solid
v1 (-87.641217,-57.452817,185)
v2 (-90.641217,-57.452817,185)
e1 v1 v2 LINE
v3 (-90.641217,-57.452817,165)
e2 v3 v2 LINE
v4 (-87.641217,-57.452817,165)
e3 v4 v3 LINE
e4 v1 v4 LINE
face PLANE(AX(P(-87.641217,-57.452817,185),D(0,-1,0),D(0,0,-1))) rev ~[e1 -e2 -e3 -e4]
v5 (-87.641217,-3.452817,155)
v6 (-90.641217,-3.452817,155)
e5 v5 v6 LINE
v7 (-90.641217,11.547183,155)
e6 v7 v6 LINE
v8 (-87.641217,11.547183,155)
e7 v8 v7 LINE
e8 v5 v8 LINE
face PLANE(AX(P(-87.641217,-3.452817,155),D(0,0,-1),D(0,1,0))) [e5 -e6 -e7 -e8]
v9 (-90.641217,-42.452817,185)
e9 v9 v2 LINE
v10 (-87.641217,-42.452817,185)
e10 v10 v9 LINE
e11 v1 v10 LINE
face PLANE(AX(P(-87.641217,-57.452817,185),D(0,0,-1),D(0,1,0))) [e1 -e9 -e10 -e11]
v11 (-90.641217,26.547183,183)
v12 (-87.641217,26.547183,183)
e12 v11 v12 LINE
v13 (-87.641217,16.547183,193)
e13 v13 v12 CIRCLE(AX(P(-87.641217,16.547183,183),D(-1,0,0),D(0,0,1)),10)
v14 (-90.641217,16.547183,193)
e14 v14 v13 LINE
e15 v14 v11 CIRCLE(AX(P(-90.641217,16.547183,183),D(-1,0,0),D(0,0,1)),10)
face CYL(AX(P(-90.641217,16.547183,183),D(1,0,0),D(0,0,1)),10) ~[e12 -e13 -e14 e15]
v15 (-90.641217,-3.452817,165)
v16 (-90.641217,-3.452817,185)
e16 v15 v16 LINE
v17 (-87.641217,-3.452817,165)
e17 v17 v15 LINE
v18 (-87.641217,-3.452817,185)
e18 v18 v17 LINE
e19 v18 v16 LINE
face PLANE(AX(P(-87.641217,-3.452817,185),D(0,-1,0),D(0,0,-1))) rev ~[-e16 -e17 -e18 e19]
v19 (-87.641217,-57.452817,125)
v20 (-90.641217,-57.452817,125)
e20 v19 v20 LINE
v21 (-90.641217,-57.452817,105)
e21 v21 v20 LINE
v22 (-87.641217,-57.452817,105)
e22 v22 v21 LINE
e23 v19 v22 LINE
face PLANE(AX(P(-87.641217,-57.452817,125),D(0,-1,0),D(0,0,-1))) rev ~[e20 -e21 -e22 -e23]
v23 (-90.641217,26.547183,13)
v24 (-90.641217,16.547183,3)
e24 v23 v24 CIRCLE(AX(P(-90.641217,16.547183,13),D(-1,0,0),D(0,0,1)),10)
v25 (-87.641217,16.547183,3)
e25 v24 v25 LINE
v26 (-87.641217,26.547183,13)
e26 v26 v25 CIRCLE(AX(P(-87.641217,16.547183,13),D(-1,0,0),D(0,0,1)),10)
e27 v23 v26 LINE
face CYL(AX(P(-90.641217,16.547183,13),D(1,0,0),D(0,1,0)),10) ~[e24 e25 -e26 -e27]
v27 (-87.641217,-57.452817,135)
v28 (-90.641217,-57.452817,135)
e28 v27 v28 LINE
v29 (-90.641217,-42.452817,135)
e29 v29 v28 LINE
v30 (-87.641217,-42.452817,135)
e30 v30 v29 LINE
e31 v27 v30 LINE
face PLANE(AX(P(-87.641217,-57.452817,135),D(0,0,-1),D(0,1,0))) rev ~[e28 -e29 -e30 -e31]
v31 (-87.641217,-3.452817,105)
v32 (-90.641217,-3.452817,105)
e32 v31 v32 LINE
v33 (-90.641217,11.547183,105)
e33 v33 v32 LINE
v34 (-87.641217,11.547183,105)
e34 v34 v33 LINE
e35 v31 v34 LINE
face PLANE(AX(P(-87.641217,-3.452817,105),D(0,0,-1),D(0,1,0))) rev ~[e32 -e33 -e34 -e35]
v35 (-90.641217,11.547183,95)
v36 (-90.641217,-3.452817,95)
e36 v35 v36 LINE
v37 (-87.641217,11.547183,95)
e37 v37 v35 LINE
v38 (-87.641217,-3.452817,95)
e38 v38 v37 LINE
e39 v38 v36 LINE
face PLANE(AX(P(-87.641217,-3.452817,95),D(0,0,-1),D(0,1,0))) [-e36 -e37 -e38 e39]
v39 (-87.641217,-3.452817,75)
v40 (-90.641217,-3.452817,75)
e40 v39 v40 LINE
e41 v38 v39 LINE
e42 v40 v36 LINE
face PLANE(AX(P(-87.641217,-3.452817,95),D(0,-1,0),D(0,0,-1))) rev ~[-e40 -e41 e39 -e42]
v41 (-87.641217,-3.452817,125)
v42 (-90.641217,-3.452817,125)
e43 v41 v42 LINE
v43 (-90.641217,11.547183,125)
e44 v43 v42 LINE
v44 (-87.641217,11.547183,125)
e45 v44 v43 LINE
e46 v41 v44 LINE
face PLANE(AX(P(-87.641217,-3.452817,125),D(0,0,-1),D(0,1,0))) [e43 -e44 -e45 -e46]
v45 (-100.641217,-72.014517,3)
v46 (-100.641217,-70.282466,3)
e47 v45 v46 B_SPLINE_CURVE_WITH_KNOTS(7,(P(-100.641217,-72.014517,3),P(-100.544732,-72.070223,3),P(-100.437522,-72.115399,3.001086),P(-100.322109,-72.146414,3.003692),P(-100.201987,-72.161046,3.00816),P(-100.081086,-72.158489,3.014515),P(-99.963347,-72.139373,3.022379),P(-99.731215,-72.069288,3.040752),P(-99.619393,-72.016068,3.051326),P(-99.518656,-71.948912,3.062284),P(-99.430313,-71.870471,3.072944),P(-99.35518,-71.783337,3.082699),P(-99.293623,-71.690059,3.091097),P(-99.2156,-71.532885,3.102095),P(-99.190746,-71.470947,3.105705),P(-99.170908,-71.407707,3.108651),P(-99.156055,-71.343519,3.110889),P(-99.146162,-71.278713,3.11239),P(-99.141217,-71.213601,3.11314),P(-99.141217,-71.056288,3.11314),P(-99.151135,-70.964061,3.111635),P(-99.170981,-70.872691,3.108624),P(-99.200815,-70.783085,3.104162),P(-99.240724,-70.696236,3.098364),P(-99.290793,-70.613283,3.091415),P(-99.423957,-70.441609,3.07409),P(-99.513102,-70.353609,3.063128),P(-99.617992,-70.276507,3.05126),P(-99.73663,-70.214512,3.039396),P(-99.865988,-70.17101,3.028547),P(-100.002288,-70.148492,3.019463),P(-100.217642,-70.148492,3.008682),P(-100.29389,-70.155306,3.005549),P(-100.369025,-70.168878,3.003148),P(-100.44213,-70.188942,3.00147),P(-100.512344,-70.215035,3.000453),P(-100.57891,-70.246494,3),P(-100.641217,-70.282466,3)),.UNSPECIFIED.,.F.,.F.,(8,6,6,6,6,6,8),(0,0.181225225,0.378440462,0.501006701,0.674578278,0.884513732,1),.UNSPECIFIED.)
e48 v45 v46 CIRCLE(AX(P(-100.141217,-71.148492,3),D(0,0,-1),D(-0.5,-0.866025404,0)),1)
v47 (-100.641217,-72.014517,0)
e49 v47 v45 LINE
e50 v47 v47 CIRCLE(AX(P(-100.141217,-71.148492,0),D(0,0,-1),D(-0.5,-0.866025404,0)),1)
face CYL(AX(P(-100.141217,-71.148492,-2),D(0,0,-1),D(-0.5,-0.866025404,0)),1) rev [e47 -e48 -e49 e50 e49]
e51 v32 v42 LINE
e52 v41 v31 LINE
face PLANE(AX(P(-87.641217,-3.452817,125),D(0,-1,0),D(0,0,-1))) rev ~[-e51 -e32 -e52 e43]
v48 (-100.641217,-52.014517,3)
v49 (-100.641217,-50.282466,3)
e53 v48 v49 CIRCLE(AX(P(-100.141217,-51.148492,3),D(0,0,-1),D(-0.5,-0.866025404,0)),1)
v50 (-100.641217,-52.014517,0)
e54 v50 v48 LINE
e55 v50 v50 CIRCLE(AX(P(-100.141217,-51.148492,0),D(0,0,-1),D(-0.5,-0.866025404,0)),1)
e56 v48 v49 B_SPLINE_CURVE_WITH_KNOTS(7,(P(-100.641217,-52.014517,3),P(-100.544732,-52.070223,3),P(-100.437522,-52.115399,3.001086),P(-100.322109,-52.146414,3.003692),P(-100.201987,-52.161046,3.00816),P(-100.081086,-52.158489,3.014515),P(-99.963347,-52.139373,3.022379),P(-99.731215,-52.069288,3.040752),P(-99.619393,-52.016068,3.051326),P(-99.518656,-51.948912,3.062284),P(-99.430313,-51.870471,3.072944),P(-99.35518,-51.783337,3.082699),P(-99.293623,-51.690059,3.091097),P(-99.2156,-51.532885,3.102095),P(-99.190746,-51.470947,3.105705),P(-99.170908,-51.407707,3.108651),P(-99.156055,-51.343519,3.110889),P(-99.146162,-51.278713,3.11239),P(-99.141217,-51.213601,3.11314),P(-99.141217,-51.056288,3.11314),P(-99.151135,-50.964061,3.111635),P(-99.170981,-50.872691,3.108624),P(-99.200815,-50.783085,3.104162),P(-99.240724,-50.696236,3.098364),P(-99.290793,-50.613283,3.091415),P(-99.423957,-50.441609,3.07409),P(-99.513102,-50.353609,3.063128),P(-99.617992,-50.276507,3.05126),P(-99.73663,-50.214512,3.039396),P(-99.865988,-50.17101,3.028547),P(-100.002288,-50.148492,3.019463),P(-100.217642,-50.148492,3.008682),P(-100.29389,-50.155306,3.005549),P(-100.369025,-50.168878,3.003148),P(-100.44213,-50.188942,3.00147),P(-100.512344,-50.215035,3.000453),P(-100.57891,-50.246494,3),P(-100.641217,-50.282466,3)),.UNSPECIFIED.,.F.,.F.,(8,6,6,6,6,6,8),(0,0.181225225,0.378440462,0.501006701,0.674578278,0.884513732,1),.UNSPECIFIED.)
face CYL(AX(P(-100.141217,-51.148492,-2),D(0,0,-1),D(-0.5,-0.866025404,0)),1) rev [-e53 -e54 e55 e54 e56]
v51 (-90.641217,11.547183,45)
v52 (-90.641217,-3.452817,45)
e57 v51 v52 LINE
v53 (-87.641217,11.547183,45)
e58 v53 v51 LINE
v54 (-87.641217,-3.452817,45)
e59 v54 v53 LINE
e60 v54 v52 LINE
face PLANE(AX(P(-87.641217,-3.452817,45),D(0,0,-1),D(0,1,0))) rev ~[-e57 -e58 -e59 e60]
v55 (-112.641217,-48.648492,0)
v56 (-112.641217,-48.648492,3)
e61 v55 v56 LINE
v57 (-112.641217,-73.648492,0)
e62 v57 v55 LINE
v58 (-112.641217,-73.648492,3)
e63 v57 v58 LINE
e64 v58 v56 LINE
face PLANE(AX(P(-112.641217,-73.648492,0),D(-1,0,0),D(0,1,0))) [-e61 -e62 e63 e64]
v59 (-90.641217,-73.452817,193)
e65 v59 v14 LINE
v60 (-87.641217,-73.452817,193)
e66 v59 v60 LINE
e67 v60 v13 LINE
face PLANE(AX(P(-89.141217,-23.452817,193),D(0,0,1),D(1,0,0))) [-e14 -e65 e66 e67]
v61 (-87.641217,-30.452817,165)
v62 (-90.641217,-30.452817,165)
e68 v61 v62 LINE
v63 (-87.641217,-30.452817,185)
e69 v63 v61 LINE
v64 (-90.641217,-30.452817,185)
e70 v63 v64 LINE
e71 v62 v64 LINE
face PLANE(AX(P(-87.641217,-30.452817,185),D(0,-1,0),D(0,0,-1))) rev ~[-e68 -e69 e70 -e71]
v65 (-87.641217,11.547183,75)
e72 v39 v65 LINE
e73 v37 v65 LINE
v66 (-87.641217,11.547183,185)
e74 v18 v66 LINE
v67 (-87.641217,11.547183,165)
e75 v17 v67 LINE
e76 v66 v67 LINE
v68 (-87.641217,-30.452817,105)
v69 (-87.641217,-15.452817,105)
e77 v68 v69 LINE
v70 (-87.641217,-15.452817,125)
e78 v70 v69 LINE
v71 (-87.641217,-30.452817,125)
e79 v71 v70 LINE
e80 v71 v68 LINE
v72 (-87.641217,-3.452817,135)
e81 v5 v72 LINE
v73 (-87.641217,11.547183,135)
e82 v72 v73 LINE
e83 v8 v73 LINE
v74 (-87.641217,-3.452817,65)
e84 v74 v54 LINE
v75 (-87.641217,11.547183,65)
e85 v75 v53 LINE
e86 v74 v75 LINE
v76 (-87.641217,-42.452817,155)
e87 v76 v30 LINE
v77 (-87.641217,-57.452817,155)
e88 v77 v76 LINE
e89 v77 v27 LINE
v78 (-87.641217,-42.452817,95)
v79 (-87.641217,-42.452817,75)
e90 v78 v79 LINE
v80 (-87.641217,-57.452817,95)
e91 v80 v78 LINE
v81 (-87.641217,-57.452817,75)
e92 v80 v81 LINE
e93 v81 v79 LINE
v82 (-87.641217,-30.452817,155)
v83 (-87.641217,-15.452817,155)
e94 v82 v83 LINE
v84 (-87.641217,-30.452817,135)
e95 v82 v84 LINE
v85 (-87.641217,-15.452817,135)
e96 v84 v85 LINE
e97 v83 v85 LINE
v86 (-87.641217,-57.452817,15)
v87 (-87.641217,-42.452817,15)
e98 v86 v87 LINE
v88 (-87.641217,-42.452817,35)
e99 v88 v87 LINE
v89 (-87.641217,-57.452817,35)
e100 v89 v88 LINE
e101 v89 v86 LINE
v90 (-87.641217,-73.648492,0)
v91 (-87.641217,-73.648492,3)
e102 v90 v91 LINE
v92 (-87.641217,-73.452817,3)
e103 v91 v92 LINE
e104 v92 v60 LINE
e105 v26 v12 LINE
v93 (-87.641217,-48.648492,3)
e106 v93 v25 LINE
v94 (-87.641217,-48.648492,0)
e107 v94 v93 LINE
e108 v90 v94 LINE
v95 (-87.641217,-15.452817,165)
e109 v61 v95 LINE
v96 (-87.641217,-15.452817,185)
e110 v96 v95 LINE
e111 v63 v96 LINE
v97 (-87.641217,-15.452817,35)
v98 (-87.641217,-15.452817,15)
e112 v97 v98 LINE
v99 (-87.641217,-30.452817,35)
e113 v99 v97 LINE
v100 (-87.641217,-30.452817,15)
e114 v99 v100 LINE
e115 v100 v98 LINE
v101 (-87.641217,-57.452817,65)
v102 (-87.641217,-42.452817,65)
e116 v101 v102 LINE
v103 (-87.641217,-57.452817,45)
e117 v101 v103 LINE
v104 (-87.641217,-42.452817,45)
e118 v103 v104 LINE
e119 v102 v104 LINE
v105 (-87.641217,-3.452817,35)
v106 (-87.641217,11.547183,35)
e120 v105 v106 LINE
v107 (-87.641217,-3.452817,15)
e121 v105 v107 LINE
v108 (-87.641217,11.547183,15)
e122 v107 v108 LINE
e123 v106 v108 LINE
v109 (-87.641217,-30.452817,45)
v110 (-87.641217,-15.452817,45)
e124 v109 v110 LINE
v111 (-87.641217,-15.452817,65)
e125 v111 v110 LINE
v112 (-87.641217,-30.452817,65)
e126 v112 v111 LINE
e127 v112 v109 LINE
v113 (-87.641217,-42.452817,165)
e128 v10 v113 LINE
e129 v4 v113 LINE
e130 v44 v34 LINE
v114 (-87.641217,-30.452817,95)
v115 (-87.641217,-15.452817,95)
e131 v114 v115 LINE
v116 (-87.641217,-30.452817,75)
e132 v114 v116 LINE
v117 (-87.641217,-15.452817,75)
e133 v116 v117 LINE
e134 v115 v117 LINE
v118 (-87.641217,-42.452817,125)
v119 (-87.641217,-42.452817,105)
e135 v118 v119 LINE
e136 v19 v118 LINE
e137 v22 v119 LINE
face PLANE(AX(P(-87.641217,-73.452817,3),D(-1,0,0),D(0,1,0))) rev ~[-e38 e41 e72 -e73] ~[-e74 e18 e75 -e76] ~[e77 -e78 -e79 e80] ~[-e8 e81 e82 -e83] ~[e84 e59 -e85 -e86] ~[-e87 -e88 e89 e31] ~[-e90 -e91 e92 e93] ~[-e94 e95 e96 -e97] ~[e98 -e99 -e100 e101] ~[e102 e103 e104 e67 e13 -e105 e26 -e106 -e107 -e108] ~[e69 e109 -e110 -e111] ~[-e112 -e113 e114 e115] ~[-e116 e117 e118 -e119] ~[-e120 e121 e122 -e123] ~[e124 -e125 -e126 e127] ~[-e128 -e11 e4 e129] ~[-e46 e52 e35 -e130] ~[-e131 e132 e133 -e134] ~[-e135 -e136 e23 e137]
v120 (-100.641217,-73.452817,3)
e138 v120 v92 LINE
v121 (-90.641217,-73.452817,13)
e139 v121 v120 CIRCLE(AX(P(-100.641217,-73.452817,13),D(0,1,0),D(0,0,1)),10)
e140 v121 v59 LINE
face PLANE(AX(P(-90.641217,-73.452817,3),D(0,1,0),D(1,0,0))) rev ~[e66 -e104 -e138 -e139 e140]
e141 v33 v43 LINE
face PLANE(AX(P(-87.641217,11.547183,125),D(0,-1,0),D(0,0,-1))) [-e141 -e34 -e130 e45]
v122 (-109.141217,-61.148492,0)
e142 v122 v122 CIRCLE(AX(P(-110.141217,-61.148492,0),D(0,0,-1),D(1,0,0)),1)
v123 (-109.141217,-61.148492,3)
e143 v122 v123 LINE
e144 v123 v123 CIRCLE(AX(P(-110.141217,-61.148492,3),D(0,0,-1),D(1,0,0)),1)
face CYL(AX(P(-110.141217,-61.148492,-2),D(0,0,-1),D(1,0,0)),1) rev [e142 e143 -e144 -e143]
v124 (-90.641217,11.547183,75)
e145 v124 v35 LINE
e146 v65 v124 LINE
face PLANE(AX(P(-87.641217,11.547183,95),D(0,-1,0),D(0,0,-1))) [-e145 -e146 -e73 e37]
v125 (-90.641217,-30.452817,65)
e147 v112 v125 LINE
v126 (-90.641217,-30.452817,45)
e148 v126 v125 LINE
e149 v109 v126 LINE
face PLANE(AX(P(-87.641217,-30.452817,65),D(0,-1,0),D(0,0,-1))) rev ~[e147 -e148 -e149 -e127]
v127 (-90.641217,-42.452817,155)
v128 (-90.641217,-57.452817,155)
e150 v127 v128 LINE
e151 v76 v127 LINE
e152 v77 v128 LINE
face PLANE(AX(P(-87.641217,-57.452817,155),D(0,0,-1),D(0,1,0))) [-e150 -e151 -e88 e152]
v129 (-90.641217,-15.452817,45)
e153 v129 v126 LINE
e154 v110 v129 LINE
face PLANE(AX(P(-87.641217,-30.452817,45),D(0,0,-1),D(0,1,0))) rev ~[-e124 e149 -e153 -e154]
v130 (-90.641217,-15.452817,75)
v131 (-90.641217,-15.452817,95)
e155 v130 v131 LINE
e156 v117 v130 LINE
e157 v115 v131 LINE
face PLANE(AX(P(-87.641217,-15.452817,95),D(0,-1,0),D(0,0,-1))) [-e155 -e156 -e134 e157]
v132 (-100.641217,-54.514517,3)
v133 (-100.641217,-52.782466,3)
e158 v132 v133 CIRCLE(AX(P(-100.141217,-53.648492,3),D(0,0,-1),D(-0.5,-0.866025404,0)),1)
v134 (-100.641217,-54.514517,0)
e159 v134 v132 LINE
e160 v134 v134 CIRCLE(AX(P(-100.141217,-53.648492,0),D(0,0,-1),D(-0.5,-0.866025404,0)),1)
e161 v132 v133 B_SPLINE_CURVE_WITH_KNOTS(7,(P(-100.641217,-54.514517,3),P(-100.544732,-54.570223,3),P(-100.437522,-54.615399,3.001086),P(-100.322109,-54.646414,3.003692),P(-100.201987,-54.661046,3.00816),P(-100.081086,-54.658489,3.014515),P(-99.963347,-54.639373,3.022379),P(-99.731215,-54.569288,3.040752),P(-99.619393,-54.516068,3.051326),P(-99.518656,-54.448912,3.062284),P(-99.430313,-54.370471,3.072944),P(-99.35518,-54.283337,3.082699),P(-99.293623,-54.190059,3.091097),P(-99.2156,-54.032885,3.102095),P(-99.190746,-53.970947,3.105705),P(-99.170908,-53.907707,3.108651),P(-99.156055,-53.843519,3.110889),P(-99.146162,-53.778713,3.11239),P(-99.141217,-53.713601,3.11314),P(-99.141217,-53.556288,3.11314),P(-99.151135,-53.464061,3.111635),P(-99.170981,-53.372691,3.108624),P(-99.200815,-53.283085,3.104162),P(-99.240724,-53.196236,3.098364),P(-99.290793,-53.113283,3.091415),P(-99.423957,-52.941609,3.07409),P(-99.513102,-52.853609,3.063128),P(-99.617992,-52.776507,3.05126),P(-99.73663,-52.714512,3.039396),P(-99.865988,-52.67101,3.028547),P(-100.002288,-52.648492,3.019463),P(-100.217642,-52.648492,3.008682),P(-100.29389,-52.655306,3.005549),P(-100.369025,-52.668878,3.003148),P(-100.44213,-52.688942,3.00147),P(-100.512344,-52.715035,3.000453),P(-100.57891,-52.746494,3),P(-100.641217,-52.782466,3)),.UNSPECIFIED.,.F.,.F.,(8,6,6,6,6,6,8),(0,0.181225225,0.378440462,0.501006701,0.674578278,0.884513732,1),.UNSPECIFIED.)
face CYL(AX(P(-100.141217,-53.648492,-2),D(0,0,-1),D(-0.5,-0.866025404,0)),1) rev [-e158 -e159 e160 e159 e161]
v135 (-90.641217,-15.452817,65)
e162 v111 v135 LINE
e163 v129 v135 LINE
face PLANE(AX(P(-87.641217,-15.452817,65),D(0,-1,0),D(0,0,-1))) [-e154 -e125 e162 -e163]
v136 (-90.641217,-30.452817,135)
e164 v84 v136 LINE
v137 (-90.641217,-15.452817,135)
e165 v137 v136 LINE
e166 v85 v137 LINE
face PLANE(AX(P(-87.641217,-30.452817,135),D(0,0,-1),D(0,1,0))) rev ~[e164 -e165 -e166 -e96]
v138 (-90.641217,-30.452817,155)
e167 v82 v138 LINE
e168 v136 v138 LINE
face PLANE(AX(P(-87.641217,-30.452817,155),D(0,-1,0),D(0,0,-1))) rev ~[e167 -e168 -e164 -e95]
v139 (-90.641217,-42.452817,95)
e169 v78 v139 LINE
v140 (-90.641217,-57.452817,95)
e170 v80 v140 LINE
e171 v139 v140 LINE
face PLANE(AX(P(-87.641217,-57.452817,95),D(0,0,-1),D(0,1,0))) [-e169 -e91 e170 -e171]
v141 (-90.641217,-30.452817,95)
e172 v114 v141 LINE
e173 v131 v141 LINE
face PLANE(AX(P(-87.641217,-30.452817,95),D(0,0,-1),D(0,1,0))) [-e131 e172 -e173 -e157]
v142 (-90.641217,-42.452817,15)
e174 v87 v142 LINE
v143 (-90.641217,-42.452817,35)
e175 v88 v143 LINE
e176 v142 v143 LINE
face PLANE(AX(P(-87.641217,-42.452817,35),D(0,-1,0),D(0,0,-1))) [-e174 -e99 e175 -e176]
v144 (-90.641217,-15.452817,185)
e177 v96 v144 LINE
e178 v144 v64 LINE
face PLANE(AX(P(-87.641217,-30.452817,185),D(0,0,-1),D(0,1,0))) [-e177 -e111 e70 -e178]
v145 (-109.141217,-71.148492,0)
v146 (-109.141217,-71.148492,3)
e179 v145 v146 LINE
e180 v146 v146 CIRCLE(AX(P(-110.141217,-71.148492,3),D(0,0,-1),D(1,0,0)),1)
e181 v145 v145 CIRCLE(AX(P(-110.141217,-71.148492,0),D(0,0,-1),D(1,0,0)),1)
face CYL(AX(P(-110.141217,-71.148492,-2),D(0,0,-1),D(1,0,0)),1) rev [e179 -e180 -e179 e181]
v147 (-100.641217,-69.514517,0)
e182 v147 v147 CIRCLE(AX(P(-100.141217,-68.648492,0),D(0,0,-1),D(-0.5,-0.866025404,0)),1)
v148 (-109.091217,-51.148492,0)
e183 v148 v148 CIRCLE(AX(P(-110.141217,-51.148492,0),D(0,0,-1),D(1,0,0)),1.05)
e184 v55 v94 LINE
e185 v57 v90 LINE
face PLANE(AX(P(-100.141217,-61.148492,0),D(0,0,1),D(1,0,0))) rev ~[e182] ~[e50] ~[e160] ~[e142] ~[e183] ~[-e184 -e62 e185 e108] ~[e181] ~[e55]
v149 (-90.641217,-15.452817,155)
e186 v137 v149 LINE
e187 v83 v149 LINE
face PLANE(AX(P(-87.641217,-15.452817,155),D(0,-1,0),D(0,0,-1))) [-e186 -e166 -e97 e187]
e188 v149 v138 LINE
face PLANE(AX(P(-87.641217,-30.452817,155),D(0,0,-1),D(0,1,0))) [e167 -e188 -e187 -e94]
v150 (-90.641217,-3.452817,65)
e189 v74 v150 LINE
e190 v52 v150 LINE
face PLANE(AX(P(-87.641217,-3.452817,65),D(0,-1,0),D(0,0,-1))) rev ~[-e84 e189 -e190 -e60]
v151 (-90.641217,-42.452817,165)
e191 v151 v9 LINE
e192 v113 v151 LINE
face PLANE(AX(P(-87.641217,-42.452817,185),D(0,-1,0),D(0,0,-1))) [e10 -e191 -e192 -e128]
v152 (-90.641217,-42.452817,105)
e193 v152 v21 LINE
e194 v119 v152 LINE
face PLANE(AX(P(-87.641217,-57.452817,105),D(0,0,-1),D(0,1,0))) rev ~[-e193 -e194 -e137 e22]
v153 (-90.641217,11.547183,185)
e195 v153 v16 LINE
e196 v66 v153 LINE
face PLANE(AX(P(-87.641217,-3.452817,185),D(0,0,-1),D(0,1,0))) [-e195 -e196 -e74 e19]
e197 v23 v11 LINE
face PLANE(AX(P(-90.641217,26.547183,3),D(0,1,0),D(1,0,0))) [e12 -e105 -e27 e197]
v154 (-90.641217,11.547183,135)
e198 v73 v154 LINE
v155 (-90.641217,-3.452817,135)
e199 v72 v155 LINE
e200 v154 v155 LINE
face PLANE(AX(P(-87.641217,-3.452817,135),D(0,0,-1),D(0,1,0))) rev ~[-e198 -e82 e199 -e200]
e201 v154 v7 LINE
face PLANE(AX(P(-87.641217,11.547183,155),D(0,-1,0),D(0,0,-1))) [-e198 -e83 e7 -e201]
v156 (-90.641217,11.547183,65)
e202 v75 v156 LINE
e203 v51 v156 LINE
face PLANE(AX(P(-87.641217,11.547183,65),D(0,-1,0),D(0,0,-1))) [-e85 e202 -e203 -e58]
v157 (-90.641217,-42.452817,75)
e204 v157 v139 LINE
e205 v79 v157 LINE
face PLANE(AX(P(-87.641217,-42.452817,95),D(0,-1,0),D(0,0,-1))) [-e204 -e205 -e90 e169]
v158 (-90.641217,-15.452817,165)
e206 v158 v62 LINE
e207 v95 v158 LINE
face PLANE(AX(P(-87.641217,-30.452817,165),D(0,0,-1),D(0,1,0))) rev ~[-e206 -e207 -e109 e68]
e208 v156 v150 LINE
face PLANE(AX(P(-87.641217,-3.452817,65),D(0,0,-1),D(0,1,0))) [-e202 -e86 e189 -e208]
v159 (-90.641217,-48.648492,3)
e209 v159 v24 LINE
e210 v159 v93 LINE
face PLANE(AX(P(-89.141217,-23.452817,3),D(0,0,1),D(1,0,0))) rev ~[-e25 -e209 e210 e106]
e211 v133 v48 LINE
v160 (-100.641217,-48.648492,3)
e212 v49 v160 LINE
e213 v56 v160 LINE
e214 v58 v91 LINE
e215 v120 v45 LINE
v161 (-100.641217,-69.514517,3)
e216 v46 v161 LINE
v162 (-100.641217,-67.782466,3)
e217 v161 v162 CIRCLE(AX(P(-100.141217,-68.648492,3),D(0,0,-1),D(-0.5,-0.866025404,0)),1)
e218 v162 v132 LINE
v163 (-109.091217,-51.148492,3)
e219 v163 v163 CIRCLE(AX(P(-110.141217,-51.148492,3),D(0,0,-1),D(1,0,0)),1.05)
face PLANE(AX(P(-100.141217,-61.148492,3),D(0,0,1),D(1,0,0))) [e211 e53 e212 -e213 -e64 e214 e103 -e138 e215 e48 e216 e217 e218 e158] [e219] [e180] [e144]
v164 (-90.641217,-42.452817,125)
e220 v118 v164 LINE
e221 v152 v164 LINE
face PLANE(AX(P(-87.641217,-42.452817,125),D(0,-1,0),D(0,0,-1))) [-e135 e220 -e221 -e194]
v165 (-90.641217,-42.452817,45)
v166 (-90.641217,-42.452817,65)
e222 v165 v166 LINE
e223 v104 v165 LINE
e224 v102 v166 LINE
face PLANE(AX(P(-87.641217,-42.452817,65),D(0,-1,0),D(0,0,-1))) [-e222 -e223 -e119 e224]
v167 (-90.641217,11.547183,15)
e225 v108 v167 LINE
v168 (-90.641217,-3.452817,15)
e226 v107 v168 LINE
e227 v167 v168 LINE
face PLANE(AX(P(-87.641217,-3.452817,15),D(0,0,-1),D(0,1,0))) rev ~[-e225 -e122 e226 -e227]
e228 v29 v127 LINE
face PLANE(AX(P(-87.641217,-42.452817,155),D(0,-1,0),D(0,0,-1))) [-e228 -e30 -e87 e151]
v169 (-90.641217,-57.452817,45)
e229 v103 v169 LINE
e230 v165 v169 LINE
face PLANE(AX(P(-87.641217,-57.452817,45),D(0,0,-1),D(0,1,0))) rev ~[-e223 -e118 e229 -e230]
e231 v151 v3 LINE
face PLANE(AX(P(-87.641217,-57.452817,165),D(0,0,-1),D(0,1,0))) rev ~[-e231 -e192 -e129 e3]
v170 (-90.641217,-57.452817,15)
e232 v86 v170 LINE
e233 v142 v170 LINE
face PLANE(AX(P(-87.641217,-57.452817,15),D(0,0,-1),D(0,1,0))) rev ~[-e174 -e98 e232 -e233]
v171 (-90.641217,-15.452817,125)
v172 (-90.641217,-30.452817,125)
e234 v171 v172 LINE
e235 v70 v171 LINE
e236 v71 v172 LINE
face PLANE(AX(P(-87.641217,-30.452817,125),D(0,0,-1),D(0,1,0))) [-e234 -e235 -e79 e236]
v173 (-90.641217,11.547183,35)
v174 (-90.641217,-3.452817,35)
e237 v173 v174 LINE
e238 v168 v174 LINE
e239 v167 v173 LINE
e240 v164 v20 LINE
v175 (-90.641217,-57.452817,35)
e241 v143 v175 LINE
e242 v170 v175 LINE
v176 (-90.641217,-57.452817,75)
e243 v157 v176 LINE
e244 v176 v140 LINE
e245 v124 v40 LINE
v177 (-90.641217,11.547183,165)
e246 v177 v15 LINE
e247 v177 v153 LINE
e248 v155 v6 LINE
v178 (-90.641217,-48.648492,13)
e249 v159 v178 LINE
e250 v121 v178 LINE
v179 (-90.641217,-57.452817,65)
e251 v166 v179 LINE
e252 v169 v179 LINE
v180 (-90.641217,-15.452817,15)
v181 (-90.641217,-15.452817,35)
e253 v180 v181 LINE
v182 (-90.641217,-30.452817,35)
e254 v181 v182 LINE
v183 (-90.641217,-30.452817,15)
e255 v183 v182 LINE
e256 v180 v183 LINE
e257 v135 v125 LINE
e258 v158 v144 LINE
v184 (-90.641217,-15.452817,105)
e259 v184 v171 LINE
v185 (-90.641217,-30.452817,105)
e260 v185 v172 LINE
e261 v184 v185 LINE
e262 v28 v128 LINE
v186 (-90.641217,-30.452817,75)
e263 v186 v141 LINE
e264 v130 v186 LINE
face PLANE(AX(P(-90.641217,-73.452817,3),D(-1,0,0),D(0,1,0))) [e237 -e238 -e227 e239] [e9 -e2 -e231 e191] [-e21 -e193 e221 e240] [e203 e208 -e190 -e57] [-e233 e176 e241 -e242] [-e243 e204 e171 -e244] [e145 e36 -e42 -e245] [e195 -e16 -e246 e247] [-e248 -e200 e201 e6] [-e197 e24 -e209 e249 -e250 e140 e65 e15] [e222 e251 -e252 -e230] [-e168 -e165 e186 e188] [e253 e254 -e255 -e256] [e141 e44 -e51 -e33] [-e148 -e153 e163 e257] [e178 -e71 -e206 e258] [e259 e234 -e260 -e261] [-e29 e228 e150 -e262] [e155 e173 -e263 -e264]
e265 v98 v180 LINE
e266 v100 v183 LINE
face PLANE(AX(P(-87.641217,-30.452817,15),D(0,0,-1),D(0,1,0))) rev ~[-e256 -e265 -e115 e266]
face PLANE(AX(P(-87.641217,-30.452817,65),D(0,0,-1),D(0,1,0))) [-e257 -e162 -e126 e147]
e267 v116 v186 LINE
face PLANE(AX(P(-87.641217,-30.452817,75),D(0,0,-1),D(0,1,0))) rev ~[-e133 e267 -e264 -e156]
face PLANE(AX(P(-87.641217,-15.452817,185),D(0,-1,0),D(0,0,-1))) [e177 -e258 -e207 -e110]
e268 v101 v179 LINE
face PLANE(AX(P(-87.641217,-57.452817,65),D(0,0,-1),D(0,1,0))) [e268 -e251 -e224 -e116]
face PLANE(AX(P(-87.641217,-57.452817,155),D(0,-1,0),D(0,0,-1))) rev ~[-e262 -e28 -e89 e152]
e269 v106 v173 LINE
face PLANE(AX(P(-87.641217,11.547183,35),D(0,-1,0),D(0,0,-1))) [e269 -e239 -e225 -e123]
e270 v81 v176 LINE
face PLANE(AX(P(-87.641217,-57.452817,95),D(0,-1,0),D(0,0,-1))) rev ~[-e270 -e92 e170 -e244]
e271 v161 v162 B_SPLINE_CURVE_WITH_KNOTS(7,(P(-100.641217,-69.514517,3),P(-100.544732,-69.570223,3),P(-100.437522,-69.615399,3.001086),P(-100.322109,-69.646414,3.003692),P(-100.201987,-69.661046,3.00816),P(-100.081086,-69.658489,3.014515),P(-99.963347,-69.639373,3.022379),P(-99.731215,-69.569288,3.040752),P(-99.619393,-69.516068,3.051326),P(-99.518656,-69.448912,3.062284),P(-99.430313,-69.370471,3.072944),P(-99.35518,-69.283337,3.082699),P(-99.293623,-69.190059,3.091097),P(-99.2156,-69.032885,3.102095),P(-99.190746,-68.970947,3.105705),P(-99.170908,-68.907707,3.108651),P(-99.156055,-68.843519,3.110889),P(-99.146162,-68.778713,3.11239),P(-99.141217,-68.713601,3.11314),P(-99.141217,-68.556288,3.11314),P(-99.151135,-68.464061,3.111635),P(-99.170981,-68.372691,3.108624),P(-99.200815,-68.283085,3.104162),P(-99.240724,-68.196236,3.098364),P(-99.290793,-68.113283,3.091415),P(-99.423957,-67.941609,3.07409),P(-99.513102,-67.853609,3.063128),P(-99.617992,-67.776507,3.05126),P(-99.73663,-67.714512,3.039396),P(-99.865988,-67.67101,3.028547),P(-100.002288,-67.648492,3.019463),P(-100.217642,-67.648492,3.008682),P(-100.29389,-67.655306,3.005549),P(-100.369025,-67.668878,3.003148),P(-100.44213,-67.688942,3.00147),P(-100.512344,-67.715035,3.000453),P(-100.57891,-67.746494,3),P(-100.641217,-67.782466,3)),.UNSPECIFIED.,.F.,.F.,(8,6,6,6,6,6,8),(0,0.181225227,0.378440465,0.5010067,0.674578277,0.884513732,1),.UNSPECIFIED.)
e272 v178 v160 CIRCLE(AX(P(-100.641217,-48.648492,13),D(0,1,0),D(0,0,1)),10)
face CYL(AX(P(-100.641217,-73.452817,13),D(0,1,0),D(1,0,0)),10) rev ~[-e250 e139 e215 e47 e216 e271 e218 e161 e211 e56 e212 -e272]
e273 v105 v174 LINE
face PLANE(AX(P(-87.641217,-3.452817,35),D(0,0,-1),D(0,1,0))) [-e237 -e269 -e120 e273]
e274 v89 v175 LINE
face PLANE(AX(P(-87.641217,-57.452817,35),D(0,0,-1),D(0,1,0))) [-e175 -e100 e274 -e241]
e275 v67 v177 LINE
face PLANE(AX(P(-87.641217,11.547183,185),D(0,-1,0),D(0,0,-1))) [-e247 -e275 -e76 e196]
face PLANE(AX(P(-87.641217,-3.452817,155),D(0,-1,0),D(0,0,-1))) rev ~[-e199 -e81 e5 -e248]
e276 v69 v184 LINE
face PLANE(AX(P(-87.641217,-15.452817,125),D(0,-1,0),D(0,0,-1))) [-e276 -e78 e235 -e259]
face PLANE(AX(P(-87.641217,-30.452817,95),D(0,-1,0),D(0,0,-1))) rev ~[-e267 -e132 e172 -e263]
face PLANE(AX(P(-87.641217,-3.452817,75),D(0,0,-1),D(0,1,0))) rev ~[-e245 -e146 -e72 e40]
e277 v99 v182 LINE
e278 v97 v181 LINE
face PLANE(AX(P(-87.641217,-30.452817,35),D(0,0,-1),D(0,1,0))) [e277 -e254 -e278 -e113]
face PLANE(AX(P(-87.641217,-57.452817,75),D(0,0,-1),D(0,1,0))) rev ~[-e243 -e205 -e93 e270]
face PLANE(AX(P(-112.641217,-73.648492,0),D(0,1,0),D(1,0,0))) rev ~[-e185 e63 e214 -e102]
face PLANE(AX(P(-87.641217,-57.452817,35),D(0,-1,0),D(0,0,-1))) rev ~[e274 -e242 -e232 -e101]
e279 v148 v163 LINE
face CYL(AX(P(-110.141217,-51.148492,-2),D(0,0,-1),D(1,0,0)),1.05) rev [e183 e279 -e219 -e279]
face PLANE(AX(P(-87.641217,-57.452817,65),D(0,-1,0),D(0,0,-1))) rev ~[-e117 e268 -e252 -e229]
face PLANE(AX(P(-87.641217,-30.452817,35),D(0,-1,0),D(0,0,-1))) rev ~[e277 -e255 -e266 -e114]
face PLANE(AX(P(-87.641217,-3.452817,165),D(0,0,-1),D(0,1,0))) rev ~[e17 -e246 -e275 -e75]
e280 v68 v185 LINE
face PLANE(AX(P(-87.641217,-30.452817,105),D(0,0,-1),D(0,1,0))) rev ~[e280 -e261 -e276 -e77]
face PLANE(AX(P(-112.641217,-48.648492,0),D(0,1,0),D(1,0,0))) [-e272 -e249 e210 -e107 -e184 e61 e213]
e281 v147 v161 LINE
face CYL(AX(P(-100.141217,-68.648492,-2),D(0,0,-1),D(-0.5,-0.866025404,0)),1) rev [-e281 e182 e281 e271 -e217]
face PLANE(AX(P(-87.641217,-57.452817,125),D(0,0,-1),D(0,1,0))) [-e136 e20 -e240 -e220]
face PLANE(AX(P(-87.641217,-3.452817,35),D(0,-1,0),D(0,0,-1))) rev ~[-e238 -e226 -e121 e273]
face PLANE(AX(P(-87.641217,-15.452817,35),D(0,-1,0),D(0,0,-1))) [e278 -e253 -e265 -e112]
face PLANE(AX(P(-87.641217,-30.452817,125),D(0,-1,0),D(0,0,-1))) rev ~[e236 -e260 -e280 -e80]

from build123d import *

# Parameters (mm, degrees)
SKETCH_1_W               = 25
SKETCH_1_H               = 25
EXTRUDE_1_DEPTH          = 3
SKETCH_2_W               = 3
SKETCH_2_H               = 100
EXTRUDE_2_DEPTH          = 190
FILLET_1_R               = 10
SKETCH_3_W               = 20
SKETCH_3_H               = 15
CUT_EXTRUDE_2_DEPTH      = 10
FILLET_2_R               = 10
FILLET_3_R               = 10
CUT_EXTRUDE_3_DEPTH      = 5
CUT_EXTRUDE_3_DEPTH_BACK = 5
SKETCH_4_R               = 1.05
SKETCH_4_R_2             = 1


with BuildPart() as part:
    # 草图1 → 凸台-拉伸1 (new body)
    with BuildSketch(Plane.XY):
        with Locations((-100.141216583, -61.148491789)):
            Rectangle(SKETCH_1_W, SKETCH_1_H)
    extrude(amount=EXTRUDE_1_DEPTH)

    # 草图2 → 凸台-拉伸2 (add)
    with BuildSketch(Plane.XY.offset(3)):
        with Locations((-89.141216583, -23.452816851)):
            Rectangle(SKETCH_2_W, SKETCH_2_H)
    extrude(amount=EXTRUDE_2_DEPTH)

    # 圆角1
    fillet_1_edges = [part.edges().sort_by_distance(p)[0] for p in [
        (-90.641216583, -61.05065432, 3),
    ]]
    fillet(fillet_1_edges, radius=FILLET_1_R)

    # 草图3 → 切除-拉伸2 (cut)
    with BuildSketch(Plane(origin=(-87.641216583, 0, 0), x_dir=(0, 0, -1), z_dir=(1, 0, 0))):
        with Locations((-25, 4.047183149)):
            Rectangle(SKETCH_3_W, SKETCH_3_H)
        with Locations((-55, 4.047183149)):
            Rectangle(SKETCH_3_W, SKETCH_3_H)
        with Locations((-85, 4.047183149)):
            Rectangle(SKETCH_3_W, SKETCH_3_H)
        with Locations((-115, 4.047183149)):
            Rectangle(SKETCH_3_W, SKETCH_3_H)
        with Locations((-145, 4.047183149)):
            Rectangle(SKETCH_3_W, SKETCH_3_H)
        with Locations((-175, 4.047183149)):
            Rectangle(SKETCH_3_W, SKETCH_3_H)
        with Locations((-55, -22.952816851)):
            Rectangle(SKETCH_3_W, SKETCH_3_H)
        with Locations((-85, -22.952816851)):
            Rectangle(SKETCH_3_W, SKETCH_3_H)
        with Locations((-115, -22.952816851)):
            Rectangle(SKETCH_3_W, SKETCH_3_H)
        with Locations((-145, -22.952816851)):
            Rectangle(SKETCH_3_W, SKETCH_3_H)
        with Locations((-175, -22.952816851)):
            Rectangle(SKETCH_3_W, SKETCH_3_H)
        with Locations((-55, -49.952816851)):
            Rectangle(SKETCH_3_W, SKETCH_3_H)
        with Locations((-85, -49.952816851)):
            Rectangle(SKETCH_3_W, SKETCH_3_H)
        with Locations((-115, -49.952816851)):
            Rectangle(SKETCH_3_W, SKETCH_3_H)
        with Locations((-145, -49.952816851)):
            Rectangle(SKETCH_3_W, SKETCH_3_H)
        with Locations((-175, -49.952816851)):
            Rectangle(SKETCH_3_W, SKETCH_3_H)
        with Locations((-25, -22.952816851)):
            Rectangle(SKETCH_3_W, SKETCH_3_H)
        with Locations((-25, -49.952816851)):
            Rectangle(SKETCH_3_W, SKETCH_3_H)
    extrude(amount=-CUT_EXTRUDE_2_DEPTH, mode=Mode.SUBTRACT)

    # 圆角2
    fillet_2_edges = [part.edges().sort_by_distance(p)[0] for p in [
        (-89.141216583, 26.547183149, 193),
    ]]
    fillet(fillet_2_edges, radius=FILLET_2_R)

    # 圆角3
    fillet_3_edges = [part.edges().sort_by_distance(p)[0] for p in [
        (-89.141216583, 26.547183149, 3),
    ]]
    fillet(fillet_3_edges, radius=FILLET_3_R)

    # 草图4 → 切除-拉伸3 (cut, two sides: drawn at the far end of the back side and taken through both)
    with BuildSketch(Plane.XY.offset(3).offset(-CUT_EXTRUDE_3_DEPTH_BACK)):
        with Locations((-110.141216583, -51.148491789)):
            Circle(SKETCH_4_R)
        with Locations((-110.141216583, -61.148491789)):
            Circle(SKETCH_4_R_2)
        with Locations((-110.141216583, -71.148491789)):
            Circle(SKETCH_4_R_2)
        with Locations(Location((-100.141216583, -71.148491789, 0), (0, 0, 239.999999998))):
            Circle(SKETCH_4_R_2)
        with Locations(Location((-100.141216583, -68.648491789, 0), (0, 0, 239.999999998))):
            Circle(SKETCH_4_R_2)
        with Locations(Location((-100.141216583, -51.148491789, 0), (0, 0, 239.999999998))):
            Circle(SKETCH_4_R_2)
        with Locations(Location((-100.141216583, -53.648491789, 0), (0, 0, 239.999999998))):
            Circle(SKETCH_4_R_2)
    extrude(amount=CUT_EXTRUDE_3_DEPTH + CUT_EXTRUDE_3_DEPTH_BACK, mode=Mode.SUBTRACT)


solid = part.part
